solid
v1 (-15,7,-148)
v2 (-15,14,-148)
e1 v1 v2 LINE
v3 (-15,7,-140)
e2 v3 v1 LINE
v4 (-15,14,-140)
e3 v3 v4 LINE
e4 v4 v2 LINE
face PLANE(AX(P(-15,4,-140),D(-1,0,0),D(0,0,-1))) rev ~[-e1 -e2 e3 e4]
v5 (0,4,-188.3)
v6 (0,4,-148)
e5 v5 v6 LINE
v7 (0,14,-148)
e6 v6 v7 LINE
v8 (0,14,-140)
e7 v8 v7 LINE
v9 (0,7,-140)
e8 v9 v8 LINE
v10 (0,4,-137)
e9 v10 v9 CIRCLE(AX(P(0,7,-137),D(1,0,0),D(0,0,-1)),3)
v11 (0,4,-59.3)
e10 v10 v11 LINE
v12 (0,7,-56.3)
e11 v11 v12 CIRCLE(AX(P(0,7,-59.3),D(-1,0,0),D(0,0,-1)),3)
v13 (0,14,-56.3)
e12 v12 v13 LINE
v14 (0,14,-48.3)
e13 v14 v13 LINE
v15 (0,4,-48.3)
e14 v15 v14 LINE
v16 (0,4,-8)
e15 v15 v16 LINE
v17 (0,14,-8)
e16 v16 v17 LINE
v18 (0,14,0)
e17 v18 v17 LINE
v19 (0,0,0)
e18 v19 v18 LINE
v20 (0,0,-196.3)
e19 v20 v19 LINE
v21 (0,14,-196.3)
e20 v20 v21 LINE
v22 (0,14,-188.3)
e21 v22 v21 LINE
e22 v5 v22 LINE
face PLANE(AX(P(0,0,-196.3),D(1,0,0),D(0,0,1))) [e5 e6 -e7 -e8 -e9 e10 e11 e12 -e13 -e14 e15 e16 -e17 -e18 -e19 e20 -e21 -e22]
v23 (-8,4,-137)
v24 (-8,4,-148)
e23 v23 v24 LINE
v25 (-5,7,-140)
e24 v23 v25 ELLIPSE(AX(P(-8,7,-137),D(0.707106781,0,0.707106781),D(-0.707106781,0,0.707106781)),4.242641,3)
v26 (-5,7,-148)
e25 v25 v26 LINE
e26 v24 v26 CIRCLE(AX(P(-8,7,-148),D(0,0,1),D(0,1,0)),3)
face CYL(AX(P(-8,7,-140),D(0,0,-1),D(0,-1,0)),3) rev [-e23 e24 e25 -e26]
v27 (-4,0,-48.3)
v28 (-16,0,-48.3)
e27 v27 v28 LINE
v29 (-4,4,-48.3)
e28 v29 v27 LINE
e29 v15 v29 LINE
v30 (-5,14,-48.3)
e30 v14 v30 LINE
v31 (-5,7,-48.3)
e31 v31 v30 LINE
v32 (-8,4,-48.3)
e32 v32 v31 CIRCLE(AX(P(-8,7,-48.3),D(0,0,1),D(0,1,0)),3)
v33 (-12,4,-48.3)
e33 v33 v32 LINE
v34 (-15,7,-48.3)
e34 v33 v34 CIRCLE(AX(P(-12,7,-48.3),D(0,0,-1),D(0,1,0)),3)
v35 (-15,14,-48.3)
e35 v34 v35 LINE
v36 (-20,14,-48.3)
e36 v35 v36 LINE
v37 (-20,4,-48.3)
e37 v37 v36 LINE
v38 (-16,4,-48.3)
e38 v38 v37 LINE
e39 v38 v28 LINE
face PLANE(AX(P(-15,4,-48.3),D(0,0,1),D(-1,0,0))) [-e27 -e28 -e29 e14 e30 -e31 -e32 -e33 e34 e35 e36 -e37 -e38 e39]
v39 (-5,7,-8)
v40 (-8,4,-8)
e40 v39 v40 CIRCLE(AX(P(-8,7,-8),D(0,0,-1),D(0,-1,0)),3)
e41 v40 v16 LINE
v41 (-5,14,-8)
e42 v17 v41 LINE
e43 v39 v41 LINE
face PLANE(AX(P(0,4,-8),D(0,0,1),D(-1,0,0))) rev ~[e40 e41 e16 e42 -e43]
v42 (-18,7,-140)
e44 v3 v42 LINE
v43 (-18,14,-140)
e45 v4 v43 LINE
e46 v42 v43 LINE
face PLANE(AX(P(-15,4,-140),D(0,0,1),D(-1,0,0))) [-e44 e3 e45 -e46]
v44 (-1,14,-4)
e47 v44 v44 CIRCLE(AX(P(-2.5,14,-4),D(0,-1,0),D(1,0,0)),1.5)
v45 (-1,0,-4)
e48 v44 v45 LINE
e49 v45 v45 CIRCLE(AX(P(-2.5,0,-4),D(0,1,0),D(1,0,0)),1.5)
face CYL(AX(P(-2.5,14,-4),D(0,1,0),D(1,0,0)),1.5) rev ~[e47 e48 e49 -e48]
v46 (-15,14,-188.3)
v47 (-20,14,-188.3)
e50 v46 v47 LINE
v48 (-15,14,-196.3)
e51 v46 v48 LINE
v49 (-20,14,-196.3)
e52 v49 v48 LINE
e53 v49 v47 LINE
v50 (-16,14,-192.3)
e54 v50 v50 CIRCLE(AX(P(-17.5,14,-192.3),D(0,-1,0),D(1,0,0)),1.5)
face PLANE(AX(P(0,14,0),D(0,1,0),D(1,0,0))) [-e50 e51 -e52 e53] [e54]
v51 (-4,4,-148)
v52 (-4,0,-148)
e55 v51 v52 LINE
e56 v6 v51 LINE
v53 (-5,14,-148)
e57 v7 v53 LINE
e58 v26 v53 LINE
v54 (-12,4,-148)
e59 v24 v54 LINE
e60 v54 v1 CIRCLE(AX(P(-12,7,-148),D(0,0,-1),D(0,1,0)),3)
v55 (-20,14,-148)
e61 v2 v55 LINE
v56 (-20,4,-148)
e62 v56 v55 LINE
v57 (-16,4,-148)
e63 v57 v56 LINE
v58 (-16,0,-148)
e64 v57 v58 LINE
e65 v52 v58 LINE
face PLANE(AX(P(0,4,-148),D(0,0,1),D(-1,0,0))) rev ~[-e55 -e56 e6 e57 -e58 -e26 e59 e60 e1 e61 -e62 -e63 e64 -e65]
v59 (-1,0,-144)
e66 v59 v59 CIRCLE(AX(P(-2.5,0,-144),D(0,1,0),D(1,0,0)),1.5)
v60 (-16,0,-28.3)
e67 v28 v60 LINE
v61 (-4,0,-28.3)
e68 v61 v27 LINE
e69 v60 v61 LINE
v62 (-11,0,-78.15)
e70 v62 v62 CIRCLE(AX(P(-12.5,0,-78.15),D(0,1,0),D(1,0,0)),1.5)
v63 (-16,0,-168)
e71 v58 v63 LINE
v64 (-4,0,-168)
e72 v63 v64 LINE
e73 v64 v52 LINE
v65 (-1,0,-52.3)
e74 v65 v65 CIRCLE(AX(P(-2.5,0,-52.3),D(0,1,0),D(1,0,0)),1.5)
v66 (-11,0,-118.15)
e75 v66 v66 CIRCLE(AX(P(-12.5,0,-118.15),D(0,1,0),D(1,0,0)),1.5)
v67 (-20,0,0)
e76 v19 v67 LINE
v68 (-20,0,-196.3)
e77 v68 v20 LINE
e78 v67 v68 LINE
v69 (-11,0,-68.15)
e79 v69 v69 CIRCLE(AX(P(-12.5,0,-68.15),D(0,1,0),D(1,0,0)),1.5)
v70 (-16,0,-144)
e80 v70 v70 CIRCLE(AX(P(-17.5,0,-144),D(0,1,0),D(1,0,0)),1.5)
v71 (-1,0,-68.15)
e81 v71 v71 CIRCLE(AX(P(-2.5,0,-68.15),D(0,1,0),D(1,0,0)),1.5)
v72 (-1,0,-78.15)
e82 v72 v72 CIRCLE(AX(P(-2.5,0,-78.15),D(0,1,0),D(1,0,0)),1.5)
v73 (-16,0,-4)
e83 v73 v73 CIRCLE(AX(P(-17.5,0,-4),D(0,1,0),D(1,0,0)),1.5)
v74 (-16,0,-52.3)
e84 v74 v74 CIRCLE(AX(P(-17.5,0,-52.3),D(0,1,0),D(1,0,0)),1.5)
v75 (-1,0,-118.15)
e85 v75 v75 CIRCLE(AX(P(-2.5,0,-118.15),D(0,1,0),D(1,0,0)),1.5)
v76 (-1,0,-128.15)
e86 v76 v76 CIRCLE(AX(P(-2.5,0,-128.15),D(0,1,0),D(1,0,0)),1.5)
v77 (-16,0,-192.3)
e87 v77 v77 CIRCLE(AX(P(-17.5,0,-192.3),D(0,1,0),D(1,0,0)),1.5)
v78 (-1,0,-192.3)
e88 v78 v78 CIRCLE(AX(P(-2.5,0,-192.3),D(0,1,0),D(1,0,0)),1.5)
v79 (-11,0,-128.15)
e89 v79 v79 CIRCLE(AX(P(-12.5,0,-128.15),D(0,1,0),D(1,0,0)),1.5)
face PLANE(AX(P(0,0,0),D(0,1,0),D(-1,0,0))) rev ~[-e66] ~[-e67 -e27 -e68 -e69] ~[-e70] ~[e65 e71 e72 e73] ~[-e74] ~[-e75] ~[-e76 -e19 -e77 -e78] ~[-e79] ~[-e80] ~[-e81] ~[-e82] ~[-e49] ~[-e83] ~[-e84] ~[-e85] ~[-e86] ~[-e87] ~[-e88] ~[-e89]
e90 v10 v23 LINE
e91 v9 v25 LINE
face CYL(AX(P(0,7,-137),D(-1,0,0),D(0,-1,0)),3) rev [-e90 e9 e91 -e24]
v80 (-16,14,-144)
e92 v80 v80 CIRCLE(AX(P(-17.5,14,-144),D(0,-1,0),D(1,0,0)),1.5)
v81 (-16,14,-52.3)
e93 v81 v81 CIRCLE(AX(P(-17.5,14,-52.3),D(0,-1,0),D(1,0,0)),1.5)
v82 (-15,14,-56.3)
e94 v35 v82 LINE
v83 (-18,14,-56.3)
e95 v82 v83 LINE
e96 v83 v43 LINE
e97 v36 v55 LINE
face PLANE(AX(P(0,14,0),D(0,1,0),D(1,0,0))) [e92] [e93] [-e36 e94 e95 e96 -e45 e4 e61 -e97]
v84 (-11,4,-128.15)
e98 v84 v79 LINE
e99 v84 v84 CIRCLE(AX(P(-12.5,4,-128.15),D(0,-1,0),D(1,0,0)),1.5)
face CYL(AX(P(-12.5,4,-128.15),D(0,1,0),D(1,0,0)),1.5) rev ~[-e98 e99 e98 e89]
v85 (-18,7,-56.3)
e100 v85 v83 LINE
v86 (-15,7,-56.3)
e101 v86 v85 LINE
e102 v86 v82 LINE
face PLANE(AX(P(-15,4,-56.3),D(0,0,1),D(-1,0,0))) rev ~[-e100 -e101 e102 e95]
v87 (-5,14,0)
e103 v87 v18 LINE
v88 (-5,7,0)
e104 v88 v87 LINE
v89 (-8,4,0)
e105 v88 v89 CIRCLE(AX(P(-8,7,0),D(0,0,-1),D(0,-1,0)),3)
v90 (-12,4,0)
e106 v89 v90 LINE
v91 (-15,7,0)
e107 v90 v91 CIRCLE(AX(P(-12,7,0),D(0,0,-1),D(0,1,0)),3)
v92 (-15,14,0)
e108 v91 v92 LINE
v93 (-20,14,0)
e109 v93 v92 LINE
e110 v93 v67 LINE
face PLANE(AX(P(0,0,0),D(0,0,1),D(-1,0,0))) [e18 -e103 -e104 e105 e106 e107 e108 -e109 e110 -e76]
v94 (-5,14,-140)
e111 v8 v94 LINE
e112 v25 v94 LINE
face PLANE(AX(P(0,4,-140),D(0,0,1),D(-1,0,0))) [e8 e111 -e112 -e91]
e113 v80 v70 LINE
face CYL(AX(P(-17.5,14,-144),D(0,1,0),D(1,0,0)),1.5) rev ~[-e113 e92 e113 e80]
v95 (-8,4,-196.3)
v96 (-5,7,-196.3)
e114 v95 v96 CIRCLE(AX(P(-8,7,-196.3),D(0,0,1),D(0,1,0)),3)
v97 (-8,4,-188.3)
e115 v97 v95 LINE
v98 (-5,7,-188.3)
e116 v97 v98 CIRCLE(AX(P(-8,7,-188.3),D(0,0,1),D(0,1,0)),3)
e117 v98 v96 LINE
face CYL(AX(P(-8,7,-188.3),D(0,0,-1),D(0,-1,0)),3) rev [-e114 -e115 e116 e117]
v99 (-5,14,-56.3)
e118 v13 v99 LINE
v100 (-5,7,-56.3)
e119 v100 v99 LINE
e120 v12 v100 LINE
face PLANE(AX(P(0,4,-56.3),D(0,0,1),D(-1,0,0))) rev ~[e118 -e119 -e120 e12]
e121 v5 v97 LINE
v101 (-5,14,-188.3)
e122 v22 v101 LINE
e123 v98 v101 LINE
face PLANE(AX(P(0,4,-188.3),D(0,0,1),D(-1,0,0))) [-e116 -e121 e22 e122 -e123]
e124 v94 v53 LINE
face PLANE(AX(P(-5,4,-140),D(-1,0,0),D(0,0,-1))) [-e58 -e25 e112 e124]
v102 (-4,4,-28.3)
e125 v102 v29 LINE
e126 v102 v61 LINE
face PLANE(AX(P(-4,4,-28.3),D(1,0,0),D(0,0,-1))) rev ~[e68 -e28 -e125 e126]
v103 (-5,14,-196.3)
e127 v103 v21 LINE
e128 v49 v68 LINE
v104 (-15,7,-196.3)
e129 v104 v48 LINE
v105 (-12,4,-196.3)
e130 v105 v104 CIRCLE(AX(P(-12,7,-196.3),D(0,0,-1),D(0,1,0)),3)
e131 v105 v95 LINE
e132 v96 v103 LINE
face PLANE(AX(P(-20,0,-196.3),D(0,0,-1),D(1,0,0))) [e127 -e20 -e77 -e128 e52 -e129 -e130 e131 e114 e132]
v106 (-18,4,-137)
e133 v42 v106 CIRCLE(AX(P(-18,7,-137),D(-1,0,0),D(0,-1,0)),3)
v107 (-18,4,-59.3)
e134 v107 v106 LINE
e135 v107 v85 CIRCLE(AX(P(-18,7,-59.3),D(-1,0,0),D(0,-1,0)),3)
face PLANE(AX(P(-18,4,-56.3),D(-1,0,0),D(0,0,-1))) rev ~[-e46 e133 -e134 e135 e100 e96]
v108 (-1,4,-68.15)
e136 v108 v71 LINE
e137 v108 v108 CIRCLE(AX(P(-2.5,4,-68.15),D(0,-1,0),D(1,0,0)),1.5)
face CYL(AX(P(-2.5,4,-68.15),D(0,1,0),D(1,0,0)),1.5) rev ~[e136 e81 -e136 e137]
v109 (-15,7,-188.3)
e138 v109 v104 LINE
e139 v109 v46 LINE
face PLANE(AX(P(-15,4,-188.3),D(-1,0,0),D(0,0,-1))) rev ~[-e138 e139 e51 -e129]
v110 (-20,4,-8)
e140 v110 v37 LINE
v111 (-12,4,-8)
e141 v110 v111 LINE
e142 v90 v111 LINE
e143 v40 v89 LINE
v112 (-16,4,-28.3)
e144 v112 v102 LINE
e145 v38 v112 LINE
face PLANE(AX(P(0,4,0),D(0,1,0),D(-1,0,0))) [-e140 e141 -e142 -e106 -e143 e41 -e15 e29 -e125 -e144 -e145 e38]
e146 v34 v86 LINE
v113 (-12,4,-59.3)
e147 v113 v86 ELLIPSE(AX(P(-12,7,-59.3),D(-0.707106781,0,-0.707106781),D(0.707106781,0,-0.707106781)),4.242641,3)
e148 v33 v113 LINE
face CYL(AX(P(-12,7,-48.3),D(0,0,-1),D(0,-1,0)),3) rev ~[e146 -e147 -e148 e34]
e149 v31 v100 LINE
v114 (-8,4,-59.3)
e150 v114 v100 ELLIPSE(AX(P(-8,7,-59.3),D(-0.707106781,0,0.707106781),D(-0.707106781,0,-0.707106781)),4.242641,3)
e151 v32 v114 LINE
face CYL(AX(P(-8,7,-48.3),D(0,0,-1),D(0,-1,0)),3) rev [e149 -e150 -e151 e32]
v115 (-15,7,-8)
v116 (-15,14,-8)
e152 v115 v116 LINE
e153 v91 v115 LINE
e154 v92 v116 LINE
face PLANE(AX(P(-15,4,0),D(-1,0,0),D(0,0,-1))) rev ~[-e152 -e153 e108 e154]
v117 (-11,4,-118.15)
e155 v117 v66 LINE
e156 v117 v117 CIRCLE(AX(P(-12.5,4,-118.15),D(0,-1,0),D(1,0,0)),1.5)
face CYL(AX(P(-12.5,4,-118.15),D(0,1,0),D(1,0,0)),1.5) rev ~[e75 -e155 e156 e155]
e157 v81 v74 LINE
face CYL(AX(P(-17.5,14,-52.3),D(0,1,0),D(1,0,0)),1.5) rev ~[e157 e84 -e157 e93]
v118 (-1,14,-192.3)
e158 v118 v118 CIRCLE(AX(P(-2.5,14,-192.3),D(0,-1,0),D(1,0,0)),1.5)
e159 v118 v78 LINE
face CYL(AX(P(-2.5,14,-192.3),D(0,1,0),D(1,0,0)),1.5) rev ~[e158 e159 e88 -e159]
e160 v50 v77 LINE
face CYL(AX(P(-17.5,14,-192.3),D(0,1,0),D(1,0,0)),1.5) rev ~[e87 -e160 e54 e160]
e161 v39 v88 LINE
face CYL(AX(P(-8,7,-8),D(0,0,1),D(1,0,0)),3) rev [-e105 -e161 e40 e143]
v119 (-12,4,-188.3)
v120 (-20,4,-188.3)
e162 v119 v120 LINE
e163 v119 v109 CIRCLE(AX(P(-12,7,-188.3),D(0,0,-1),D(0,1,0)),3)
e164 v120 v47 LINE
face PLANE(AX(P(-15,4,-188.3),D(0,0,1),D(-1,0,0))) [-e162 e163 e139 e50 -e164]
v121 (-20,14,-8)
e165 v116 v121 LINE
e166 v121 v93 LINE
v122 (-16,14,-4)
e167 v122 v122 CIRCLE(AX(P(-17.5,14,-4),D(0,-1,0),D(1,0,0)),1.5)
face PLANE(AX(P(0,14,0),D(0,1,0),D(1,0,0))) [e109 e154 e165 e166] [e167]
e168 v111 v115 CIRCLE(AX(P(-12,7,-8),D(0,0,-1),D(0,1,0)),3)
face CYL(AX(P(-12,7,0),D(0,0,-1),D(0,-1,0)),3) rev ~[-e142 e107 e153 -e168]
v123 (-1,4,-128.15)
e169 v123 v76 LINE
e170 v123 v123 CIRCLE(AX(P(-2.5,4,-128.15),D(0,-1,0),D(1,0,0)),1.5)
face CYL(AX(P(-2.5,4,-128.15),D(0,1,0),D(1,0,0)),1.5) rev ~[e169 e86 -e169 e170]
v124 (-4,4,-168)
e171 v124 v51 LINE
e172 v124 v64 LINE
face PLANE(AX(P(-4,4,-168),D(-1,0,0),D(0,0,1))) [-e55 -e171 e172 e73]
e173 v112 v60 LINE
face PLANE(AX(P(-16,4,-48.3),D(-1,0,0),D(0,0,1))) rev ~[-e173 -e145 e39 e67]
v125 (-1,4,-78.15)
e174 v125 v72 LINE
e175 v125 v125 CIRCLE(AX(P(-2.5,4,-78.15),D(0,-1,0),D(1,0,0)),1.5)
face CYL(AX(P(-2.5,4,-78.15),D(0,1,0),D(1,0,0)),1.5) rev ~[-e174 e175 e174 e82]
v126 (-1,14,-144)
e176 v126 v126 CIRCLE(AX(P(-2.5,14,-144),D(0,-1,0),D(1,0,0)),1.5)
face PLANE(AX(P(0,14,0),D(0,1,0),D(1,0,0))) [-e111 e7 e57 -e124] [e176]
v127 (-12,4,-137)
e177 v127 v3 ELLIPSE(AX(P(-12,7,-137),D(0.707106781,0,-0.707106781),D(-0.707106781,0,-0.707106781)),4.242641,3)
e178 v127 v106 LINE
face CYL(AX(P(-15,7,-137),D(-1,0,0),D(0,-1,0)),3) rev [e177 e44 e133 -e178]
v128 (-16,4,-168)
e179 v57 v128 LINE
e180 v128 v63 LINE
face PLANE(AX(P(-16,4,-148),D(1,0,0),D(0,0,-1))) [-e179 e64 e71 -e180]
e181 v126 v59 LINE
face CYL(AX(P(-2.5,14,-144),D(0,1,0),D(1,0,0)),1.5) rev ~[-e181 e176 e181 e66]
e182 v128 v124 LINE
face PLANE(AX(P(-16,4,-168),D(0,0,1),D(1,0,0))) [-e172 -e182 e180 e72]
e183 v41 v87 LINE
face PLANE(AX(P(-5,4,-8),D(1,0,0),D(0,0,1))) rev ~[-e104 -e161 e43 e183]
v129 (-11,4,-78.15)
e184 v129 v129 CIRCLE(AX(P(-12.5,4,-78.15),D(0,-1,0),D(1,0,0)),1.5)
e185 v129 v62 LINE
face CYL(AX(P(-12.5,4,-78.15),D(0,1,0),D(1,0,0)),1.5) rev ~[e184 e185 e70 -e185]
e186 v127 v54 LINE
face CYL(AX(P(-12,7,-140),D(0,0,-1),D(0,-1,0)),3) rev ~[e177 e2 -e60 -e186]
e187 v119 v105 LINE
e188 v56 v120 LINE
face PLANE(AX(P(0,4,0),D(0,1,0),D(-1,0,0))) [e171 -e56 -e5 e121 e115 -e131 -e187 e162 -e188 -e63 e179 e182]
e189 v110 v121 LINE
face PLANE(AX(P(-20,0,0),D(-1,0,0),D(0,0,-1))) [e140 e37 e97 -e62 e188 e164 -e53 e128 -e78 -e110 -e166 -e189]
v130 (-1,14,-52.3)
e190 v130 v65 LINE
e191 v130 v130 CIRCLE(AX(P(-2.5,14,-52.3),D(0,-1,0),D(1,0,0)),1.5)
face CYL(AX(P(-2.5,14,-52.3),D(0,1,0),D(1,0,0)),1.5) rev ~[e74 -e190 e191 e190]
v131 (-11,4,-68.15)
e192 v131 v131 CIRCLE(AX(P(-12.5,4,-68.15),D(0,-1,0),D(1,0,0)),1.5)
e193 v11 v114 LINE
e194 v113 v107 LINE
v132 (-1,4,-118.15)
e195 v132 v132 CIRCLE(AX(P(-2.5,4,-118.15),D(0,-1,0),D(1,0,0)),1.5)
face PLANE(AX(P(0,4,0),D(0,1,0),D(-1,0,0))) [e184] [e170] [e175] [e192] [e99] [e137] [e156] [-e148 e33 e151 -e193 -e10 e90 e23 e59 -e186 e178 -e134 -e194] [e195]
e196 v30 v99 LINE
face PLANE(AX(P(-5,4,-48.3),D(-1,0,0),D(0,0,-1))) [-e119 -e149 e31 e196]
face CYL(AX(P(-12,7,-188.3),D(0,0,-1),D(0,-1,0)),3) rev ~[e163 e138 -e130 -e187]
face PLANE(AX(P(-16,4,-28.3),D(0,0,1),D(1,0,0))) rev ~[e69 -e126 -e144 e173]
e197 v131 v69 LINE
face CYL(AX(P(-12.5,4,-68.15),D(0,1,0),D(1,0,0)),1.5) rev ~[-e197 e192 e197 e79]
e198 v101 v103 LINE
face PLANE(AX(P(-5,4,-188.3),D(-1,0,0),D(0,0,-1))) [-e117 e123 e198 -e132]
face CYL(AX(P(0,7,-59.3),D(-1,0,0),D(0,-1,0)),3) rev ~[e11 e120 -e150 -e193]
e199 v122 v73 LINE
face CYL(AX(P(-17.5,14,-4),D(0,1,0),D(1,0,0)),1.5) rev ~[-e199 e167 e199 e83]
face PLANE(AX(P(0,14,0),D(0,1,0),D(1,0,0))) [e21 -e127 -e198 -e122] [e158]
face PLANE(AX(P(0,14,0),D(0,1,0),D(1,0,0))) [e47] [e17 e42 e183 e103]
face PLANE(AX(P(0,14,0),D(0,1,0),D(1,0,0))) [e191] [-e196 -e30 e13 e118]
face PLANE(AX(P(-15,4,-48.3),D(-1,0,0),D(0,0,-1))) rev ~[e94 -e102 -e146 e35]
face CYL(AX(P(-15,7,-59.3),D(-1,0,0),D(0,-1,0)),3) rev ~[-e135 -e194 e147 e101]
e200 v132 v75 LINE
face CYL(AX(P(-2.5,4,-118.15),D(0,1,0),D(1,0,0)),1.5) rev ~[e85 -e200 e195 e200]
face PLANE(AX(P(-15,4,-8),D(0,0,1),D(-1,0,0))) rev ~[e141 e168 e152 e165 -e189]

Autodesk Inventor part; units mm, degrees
ref_plane "YZ Plane" through (0, 0, 0) normal (1, 0, 0) x (0, 1, 0)
ref_plane "XZ Plane" through (0, 0, 0) normal (0, 1, 0) x (-1, 0, 0)
ref_plane "XY Plane" through (0, 0, 0) normal (0, 0, 1) x (1, 0, 0)
sketch "Sketch1" plane through (0, 0, 0) normal (0, 1, 0) x (-1, 0, 0)
  line L0 (0, 0) -> (20, 0)
  line L1 (20, 0) -> (20, -196.3)
  line L2 (20, -196.3) -> (0, -196.3)
  line L3 (0, -196.3) -> (0, 0)
  dimension "d0" = 20
  dimension "d1" = 196.3
extrude "Extrusion1" add sketch "Sketch1" along normal blind 4
sketch "Sketch2" plane through (0, 4, 0) normal (0, 1, 0) x (1, 0, 0)
  line L0 (-20, 0) -> (0, 0) projected
  line L1 (0, 0) -> (0, 196.3) projected
  line L2 (-20, 0) -> (0, 0)
  line L3 (0, 0) -> (0, 8)
  line L4 (0, 8) -> (-20, 8)
  line L5 (-20, 8) -> (-20, 0)
  line L6 (-20, 8) -> (0, 8)
  line L7 (0, 8) -> (0, 48.3)
  line L8 (0, 48.3) -> (-20, 48.3)
  line L9 (-20, 48.3) -> (-20, 8)
  line L10 (-20, 48.3) -> (0, 48.3)
  line L11 (0, 48.3) -> (0, 56.3)
  line L12 (0, 56.3) -> (-20, 56.3)
  line L13 (-20, 56.3) -> (-20, 48.3)
  line L14 (-20, 196.3) -> (-20, 0) projected
  line L15 (-20, 196.3) -> (0, 196.3)
  line L16 (0, 196.3) -> (0, 188.3)
  line L17 (0, 188.3) -> (-20, 188.3)
  line L18 (-20, 188.3) -> (-20, 196.3)
  line L19 (-20, 188.3) -> (0, 188.3)
  line L20 (0, 188.3) -> (0, 148)
  line L21 (0, 148) -> (-20, 148)
  line L22 (-20, 148) -> (-20, 188.3)
  line L23 (-20, 148) -> (0, 148)
  line L24 (0, 148) -> (0, 140)
  line L25 (0, 140) -> (-20, 140)
  line L26 (-20, 140) -> (-20, 148)
  line L27 (-20, 0) -> (-15, 0)
  line L28 (-15, 0) -> (-15, 8)
  line L29 (-15, 8) -> (-20, 8)
  line L30 (-20, 8) -> (-20, 0)
  line L31 (0, 8) -> (-5, 8)
  line L32 (-5, 8) -> (-5, 0)
  line L33 (-5, 0) -> (0, 0)
  line L34 (0, 0) -> (0, 8)
  line L35 (-20, 48.3) -> (-15, 48.3)
  line L36 (-15, 48.3) -> (-15, 56.3)
  line L37 (-15, 56.3) -> (-20, 56.3)
  line L38 (-20, 56.3) -> (-20, 48.3)
  line L39 (0, 48.3) -> (-5, 48.3)
  line L40 (-5, 48.3) -> (-5, 56.3)
  line L41 (-5, 56.3) -> (0, 56.3)
  line L42 (0, 56.3) -> (0, 48.3)
  line L43 (-20, 140) -> (-15, 140)
  line L44 (-15, 140) -> (-15, 148)
  line L45 (-15, 148) -> (-20, 148)
  line L46 (-20, 148) -> (-20, 140)
  line L47 (0, 140) -> (-5, 140)
  line L48 (-5, 140) -> (-5, 148)
  line L49 (-5, 148) -> (0, 148)
  line L50 (0, 148) -> (0, 140)
  line L51 (-20, 188.3) -> (-15, 188.3)
  line L52 (-15, 188.3) -> (-15, 196.3)
  line L53 (-15, 196.3) -> (-20, 196.3)
  line L54 (-20, 196.3) -> (-20, 188.3)
  line L55 (0, 188.3) -> (-5, 188.3)
  line L56 (-5, 188.3) -> (-5, 196.3)
  line L57 (-5, 196.3) -> (0, 196.3)
  line L58 (0, 196.3) -> (0, 188.3)
  point P0 (0, 188.3)
  point P1 (-15, 140)
  point P2 (-20, 148)
  point P3 (-20, 140)
  dimension "d4" = 8
  dimension "d5" = 40.3
  dimension "d6" = 8
  dimension "d7" = 20
  dimension "d8" = 8
  dimension "d9" = 40.3
  dimension "d10" = 8
  dimension "d11" = 5
  dimension "d12" = 5
  dimension "d13" = 8
  dimension "d14" = 5
  dimension "d15" = 5
  dimension "d16" = 5
  dimension "d17" = 5
  dimension "d18" = 5
  dimension "d19" = 5
extrude "Extrusion2" add sketch "Sketch2" along normal blind 10 contours L5 L4 L28 L0 | L32 L4 L1 L0 | L13 L12 L36 L8 | L40 L12 L1 L8 | L14 L21 L44 L25 | L14 L15 L52 L17 | L48 L21 L1 L25 | L56 L15 L1 L17
sketch "Sketch3" plane through (0, 14, 0) normal (0, 1, 0) x (1, 0, 0)
  line L0 (-20, 196.3) -> (-20, 0) projected
  line L1 (-20, 0) -> (-17.5, 0)
  line L2 (-17.5, 0) -> (-17.5, 4)
  line L3 (-17.5, 4) -> (-20, 4)
  line L4 (-20, 4) -> (-20, 0)
  line L5 (0, 0) -> (0, 196.3) projected
  line L6 (0, 0) -> (-2.5, 0)
  line L7 (-2.5, 0) -> (-2.5, 4)
  line L8 (-2.5, 4) -> (0, 4)
  line L9 (0, 4) -> (0, 0)
  line L10 (-15, 56.3) -> (-20, 56.3) projected
  line L11 (-20, 56.3) -> (-17.5, 56.3)
  line L12 (-17.5, 56.3) -> (-17.5, 52.3)
  line L13 (-17.5, 52.3) -> (-20, 52.3)
  line L14 (-20, 52.3) -> (-20, 56.3)
  line L15 (-5, 56.3) -> (0, 56.3) projected
  line L16 (-5, 56.3) -> (-2.5, 56.3)
  line L17 (-2.5, 56.3) -> (-2.5, 52.3)
  line L18 (-2.5, 52.3) -> (-5, 52.3)
  line L19 (-5, 52.3) -> (-5, 56.3)
  line L20 (-20, 196.3) -> (-17.5, 196.3)
  line L21 (-17.5, 196.3) -> (-17.5, 192.3)
  line L22 (-17.5, 192.3) -> (-20, 192.3)
  line L23 (-20, 192.3) -> (-20, 196.3)
  line L24 (-5, 196.3) -> (-2.5, 196.3)
  line L25 (-2.5, 196.3) -> (-2.5, 192.3)
  line L26 (-2.5, 192.3) -> (-5, 192.3)
  line L27 (-5, 192.3) -> (-5, 196.3)
  line L28 (-20, 148) -> (-15, 148) projected
  line L29 (-15, 148) -> (-17.5, 148)
  line L30 (-17.5, 148) -> (-17.5, 144)
  line L31 (-17.5, 144) -> (-15, 144)
  line L32 (-15, 144) -> (-15, 148)
  line L33 (-5, 148) -> (-2.5, 148)
  line L34 (-2.5, 148) -> (-2.5, 144)
  line L35 (-2.5, 144) -> (-5, 144)
  line L36 (-5, 144) -> (-5, 148)
  circle A0 centre (-17.5, 144) radius 1.5
  circle A1 centre (-2.5, 144) radius 1.5
  circle A2 centre (-17.5, 192.3) radius 1.5
  circle A3 centre (-2.5, 192.3) radius 1.5
  circle A4 centre (-17.5, 52.3) radius 1.5
  circle A5 centre (-2.5, 52.3) radius 1.5
  circle A6 centre (-17.5, 4) radius 1.5
  circle A7 centre (-2.5, 4) radius 1.5
  dimension "d22" = 2.5
  dimension "d23" = 4
  dimension "d24" = 2.5
  dimension "d25" = 4
  dimension "d26" = 2.5
  dimension "d27" = 4
  dimension "d28" = 2.5
  dimension "d29" = 4
  dimension "d30" = 2.5
  dimension "d31" = 4
  dimension "d32" = 2.5
  dimension "d33" = 4
  dimension "d34" = 2.5
  dimension "d35" = 4
  dimension "d36" = 2.5
  dimension "d37" = 4
  dimension "d38" = 3
  dimension "d39" = 3
  dimension "d40" = 3
  dimension "d41" = 3
  dimension "d42" = 3
  dimension "d43" = 3
  dimension "d44" = 3
  dimension "d45" = 3
extrude "Extrusion3" cut sketch "Sketch3" against normal up to surface (14 mm away) contours A2 L21 L22 | L22 L21 A2 | A0 L31 L30 | L30 L31 A0 | A4 L12 L13 | L13 L12 A4 | A6 L2 L3 | L3 L2 A6 | A7 L7 L8 | L8 L7 A7 | A5 L18 L17 | L17 L18 A5 | A3 L26 L25 | L25 L26 A3 | A1 L35 L34 | L34 L35 A1
fillet "Fillet1" radius 3 12 edges at (-15, 4, -52.3) (-5, 4, -52.3) (-15, 4, -144) (-2.5, 4, -140) (-2.5, 4, -56.3) (-5, 4, -144) (-15, 4, -4) (-5, 4, -4) (-15, 4, -192.3) (-5, 4, -192.3) (-17.5, 4, -56.3) (-17.5, 4, -140)
sketch "Sketch5" plane through (0, 4, 0) normal (0, 1, 0) x (1, 0, 0)
  line L0 (0, 48.3) -> (-8, 48.3) projected
  line L1 (0, 48.3) -> (-4, 48.3)
  line L2 (-8, 148) -> (0, 148) projected
  line L3 (0, 148) -> (-4, 148)
  line L4 (-4, 148) -> (-16, 148)
  line L5 (-16, 148) -> (-16, 168)
  line L6 (-16, 168) -> (-4, 168)
  line L7 (-4, 168) -> (-4, 148)
  line L8 (-4, 48.3) -> (-16, 48.3)
  line L9 (-16, 48.3) -> (-16, 28.3)
  line L10 (-16, 28.3) -> (-4, 28.3)
  line L11 (-4, 28.3) -> (-4, 48.3)
  point P0 (0, 0)
  dimension "d63" = 4
  dimension "d64" = 4
  dimension "d65" = 12
  dimension "d66" = 20
  dimension "d67" = 12
  dimension "d68" = 20
extrude "Extrusion5" cut sketch "Sketch5" against normal blind 8
sketch "Sketch6" plane through (0, 0, 0) normal (0, -1, 0) x (1, 0, 0)
  circle A0 centre (-2.5, -4) radius 1.5 projected
  circle A1 centre (-2.5, -4) radius 4
  circle A2 centre (-17.5, -4) radius 1.5 projected
  circle A3 centre (-17.5, -4) radius 4
  circle A4 centre (-17.5, -52.3) radius 1.5 projected
  circle A5 centre (-17.5, -52.3) radius 4
  circle A6 centre (-2.5, -52.3) radius 1.5 projected
  circle A7 centre (-2.5, -52.3) radius 4
  circle A8 centre (-17.5, -144) radius 1.5 projected
  circle A9 centre (-17.5, -144) radius 4
  circle A10 centre (-2.5, -144) radius 1.5 projected
  circle A11 centre (-2.5, -144) radius 4
  circle A12 centre (-17.5, -192.3) radius 1.5 projected
  circle A13 centre (-17.5, -192.3) radius 4
  circle A14 centre (-2.5, -192.3) radius 1.5 projected
  circle A15 centre (-2.5, -192.3) radius 4
  line L0 (0, -196.3) -> (-20, -196.3) projected
  line L1 (-20, -196.3) -> (-17.5, -196.3)
  line L2 (-17.5, -196.3) -> (-17.5, -192.3)
  line L3 (-17.5, -192.3) -> (-20, -192.3)
  line L4 (-20, -192.3) -> (-20, -196.3)
  line L5 (0, -196.3) -> (-2.5, -196.3)
  line L6 (-2.5, -196.3) -> (-2.5, -192.3)
  line L7 (-2.5, -192.3) -> (0, -192.3)
  line L8 (0, -192.3) -> (0, -196.3)
  line L9 (-20, -196.3) -> (-20, 0) projected
  line L10 (-20, 0) -> (-17.5, 0)
  line L11 (-17.5, 0) -> (-17.5, -4)
  line L12 (-17.5, -4) -> (-20, -4)
  line L13 (-20, -4) -> (-20, 0)
  line L14 (0, 0) -> (-2.5, 0)
  line L15 (-2.5, 0) -> (-2.5, -4)
  line L16 (-2.5, -4) -> (0, -4)
  line L17 (0, -4) -> (0, 0)
  dimension "d71" = 8
  dimension "d72" = 8
  dimension "d73" = 8
  dimension "d74" = 8
  dimension "d75" = 8
  dimension "d76" = 8
  dimension "d77" = 8
sketch "Sketch7" plane through (0, 4, 0) normal (0, 1, 0) x (1, 0, 0)
  line L0 (-20, 188.3) -> (-20, 148) projected
  line L1 (-20, 140) -> (-15, 140) projected
  line L2 (-20, 56.3) -> (-18, 56.3)
  line L3 (-18, 56.3) -> (-18, 140)
  line L4 (-18, 140) -> (-20, 140)
  line L5 (-20, 140) -> (-20, 56.3)
  point P0 (0, 0)
  dimension "d78" = 2
extrude "Extrusion6" add sketch "Sketch7" along normal blind 10
sketch "Sketch8" plane through (0, 4, 0) normal (0, 1, 0) x (1, 0, 0)
  line L0 (0, 59.3) -> (0, 137) projected
  line L1 (0, 59.3) -> (0, 137)
  line L2 (0, 137) -> (0, 59.3)
  line L3 (0, 0) -> (0, 196.3) projected
  line L4 (0, 98.15) -> (0, 128.15)
  line L5 (0, 128.15) -> (-2.5, 128.15)
  line L6 (-2.5, 128.15) -> (-2.5, 68.15)
  line L7 (-2.5, 68.15) -> (0, 68.15)
  line L8 (0, 68.15) -> (0, 128.15)
  line L9 (-2.5, 128.15) -> (-12.5, 128.15)
  line L10 (-12.5, 128.15) -> (-12.5, 68.15)
  line L11 (-12.5, 68.15) -> (-2.5, 68.15)
  line L12 (-2.5, 68.15) -> (-2.5, 128.15)
  circle A0 centre (-12.5, 128.15) radius 1.5
  circle A1 centre (-2.5, 128.15) radius 1.5
  circle A2 centre (-12.5, 68.15) radius 1.5
  circle A3 centre (-2.5, 68.15) radius 1.5
  line L13 (-12.5, 128.15) -> (-2.5, 128.15)
  line L14 (-2.5, 128.15) -> (-2.5, 118.15)
  line L15 (-2.5, 118.15) -> (-12.5, 118.15)
  line L16 (-12.5, 118.15) -> (-12.5, 128.15)
  line L17 (-12.5, 68.15) -> (-2.5, 68.15)
  line L18 (-2.5, 68.15) -> (-2.5, 78.15)
  line L19 (-2.5, 78.15) -> (-12.5, 78.15)
  line L20 (-12.5, 78.15) -> (-12.5, 68.15)
  circle A4 centre (-12.5, 118.15) radius 1.5
  circle A5 centre (-2.5, 118.15) radius 1.5
  circle A6 centre (-12.5, 78.15) radius 1.5
  circle A7 centre (-2.5, 78.15) radius 1.5
  dimension "d81" = 30
  dimension "d82" = 2.5
  dimension "d83" = 60
  dimension "d84" = 10
  dimension "d85" = 3
  dimension "d86" = 3
  dimension "d87" = 3
  dimension "d88" = 3
  dimension "d89" = 10
  dimension "d90" = 10
  dimension "d91" = 3
  dimension "d92" = 3
  dimension "d93" = 3
  dimension "d94" = 3
extrude "Extrusion7" cut sketch "Sketch8" against normal blind 10 contours A3 L11 L7 | L7 L6 A3 | L11 A3 L6 | A1 L6 L5 | L5 L9 A1 | A7 L19 L6 | L6 A7 | A2 L10 L11 | L11 L10 A2 | L6 A1 L9 | L19 A7 L6 | A0 L10 L9 | L9 L10 A0 | A5 L6 | L6 L15 A5 | A6 L10 L19 | L19 L10 A6 | A6 L10 | L6 A5 L15 | A4 L15 L10 | L10 A4 | A4 L10 L15
properties part number "support_2_servos"
